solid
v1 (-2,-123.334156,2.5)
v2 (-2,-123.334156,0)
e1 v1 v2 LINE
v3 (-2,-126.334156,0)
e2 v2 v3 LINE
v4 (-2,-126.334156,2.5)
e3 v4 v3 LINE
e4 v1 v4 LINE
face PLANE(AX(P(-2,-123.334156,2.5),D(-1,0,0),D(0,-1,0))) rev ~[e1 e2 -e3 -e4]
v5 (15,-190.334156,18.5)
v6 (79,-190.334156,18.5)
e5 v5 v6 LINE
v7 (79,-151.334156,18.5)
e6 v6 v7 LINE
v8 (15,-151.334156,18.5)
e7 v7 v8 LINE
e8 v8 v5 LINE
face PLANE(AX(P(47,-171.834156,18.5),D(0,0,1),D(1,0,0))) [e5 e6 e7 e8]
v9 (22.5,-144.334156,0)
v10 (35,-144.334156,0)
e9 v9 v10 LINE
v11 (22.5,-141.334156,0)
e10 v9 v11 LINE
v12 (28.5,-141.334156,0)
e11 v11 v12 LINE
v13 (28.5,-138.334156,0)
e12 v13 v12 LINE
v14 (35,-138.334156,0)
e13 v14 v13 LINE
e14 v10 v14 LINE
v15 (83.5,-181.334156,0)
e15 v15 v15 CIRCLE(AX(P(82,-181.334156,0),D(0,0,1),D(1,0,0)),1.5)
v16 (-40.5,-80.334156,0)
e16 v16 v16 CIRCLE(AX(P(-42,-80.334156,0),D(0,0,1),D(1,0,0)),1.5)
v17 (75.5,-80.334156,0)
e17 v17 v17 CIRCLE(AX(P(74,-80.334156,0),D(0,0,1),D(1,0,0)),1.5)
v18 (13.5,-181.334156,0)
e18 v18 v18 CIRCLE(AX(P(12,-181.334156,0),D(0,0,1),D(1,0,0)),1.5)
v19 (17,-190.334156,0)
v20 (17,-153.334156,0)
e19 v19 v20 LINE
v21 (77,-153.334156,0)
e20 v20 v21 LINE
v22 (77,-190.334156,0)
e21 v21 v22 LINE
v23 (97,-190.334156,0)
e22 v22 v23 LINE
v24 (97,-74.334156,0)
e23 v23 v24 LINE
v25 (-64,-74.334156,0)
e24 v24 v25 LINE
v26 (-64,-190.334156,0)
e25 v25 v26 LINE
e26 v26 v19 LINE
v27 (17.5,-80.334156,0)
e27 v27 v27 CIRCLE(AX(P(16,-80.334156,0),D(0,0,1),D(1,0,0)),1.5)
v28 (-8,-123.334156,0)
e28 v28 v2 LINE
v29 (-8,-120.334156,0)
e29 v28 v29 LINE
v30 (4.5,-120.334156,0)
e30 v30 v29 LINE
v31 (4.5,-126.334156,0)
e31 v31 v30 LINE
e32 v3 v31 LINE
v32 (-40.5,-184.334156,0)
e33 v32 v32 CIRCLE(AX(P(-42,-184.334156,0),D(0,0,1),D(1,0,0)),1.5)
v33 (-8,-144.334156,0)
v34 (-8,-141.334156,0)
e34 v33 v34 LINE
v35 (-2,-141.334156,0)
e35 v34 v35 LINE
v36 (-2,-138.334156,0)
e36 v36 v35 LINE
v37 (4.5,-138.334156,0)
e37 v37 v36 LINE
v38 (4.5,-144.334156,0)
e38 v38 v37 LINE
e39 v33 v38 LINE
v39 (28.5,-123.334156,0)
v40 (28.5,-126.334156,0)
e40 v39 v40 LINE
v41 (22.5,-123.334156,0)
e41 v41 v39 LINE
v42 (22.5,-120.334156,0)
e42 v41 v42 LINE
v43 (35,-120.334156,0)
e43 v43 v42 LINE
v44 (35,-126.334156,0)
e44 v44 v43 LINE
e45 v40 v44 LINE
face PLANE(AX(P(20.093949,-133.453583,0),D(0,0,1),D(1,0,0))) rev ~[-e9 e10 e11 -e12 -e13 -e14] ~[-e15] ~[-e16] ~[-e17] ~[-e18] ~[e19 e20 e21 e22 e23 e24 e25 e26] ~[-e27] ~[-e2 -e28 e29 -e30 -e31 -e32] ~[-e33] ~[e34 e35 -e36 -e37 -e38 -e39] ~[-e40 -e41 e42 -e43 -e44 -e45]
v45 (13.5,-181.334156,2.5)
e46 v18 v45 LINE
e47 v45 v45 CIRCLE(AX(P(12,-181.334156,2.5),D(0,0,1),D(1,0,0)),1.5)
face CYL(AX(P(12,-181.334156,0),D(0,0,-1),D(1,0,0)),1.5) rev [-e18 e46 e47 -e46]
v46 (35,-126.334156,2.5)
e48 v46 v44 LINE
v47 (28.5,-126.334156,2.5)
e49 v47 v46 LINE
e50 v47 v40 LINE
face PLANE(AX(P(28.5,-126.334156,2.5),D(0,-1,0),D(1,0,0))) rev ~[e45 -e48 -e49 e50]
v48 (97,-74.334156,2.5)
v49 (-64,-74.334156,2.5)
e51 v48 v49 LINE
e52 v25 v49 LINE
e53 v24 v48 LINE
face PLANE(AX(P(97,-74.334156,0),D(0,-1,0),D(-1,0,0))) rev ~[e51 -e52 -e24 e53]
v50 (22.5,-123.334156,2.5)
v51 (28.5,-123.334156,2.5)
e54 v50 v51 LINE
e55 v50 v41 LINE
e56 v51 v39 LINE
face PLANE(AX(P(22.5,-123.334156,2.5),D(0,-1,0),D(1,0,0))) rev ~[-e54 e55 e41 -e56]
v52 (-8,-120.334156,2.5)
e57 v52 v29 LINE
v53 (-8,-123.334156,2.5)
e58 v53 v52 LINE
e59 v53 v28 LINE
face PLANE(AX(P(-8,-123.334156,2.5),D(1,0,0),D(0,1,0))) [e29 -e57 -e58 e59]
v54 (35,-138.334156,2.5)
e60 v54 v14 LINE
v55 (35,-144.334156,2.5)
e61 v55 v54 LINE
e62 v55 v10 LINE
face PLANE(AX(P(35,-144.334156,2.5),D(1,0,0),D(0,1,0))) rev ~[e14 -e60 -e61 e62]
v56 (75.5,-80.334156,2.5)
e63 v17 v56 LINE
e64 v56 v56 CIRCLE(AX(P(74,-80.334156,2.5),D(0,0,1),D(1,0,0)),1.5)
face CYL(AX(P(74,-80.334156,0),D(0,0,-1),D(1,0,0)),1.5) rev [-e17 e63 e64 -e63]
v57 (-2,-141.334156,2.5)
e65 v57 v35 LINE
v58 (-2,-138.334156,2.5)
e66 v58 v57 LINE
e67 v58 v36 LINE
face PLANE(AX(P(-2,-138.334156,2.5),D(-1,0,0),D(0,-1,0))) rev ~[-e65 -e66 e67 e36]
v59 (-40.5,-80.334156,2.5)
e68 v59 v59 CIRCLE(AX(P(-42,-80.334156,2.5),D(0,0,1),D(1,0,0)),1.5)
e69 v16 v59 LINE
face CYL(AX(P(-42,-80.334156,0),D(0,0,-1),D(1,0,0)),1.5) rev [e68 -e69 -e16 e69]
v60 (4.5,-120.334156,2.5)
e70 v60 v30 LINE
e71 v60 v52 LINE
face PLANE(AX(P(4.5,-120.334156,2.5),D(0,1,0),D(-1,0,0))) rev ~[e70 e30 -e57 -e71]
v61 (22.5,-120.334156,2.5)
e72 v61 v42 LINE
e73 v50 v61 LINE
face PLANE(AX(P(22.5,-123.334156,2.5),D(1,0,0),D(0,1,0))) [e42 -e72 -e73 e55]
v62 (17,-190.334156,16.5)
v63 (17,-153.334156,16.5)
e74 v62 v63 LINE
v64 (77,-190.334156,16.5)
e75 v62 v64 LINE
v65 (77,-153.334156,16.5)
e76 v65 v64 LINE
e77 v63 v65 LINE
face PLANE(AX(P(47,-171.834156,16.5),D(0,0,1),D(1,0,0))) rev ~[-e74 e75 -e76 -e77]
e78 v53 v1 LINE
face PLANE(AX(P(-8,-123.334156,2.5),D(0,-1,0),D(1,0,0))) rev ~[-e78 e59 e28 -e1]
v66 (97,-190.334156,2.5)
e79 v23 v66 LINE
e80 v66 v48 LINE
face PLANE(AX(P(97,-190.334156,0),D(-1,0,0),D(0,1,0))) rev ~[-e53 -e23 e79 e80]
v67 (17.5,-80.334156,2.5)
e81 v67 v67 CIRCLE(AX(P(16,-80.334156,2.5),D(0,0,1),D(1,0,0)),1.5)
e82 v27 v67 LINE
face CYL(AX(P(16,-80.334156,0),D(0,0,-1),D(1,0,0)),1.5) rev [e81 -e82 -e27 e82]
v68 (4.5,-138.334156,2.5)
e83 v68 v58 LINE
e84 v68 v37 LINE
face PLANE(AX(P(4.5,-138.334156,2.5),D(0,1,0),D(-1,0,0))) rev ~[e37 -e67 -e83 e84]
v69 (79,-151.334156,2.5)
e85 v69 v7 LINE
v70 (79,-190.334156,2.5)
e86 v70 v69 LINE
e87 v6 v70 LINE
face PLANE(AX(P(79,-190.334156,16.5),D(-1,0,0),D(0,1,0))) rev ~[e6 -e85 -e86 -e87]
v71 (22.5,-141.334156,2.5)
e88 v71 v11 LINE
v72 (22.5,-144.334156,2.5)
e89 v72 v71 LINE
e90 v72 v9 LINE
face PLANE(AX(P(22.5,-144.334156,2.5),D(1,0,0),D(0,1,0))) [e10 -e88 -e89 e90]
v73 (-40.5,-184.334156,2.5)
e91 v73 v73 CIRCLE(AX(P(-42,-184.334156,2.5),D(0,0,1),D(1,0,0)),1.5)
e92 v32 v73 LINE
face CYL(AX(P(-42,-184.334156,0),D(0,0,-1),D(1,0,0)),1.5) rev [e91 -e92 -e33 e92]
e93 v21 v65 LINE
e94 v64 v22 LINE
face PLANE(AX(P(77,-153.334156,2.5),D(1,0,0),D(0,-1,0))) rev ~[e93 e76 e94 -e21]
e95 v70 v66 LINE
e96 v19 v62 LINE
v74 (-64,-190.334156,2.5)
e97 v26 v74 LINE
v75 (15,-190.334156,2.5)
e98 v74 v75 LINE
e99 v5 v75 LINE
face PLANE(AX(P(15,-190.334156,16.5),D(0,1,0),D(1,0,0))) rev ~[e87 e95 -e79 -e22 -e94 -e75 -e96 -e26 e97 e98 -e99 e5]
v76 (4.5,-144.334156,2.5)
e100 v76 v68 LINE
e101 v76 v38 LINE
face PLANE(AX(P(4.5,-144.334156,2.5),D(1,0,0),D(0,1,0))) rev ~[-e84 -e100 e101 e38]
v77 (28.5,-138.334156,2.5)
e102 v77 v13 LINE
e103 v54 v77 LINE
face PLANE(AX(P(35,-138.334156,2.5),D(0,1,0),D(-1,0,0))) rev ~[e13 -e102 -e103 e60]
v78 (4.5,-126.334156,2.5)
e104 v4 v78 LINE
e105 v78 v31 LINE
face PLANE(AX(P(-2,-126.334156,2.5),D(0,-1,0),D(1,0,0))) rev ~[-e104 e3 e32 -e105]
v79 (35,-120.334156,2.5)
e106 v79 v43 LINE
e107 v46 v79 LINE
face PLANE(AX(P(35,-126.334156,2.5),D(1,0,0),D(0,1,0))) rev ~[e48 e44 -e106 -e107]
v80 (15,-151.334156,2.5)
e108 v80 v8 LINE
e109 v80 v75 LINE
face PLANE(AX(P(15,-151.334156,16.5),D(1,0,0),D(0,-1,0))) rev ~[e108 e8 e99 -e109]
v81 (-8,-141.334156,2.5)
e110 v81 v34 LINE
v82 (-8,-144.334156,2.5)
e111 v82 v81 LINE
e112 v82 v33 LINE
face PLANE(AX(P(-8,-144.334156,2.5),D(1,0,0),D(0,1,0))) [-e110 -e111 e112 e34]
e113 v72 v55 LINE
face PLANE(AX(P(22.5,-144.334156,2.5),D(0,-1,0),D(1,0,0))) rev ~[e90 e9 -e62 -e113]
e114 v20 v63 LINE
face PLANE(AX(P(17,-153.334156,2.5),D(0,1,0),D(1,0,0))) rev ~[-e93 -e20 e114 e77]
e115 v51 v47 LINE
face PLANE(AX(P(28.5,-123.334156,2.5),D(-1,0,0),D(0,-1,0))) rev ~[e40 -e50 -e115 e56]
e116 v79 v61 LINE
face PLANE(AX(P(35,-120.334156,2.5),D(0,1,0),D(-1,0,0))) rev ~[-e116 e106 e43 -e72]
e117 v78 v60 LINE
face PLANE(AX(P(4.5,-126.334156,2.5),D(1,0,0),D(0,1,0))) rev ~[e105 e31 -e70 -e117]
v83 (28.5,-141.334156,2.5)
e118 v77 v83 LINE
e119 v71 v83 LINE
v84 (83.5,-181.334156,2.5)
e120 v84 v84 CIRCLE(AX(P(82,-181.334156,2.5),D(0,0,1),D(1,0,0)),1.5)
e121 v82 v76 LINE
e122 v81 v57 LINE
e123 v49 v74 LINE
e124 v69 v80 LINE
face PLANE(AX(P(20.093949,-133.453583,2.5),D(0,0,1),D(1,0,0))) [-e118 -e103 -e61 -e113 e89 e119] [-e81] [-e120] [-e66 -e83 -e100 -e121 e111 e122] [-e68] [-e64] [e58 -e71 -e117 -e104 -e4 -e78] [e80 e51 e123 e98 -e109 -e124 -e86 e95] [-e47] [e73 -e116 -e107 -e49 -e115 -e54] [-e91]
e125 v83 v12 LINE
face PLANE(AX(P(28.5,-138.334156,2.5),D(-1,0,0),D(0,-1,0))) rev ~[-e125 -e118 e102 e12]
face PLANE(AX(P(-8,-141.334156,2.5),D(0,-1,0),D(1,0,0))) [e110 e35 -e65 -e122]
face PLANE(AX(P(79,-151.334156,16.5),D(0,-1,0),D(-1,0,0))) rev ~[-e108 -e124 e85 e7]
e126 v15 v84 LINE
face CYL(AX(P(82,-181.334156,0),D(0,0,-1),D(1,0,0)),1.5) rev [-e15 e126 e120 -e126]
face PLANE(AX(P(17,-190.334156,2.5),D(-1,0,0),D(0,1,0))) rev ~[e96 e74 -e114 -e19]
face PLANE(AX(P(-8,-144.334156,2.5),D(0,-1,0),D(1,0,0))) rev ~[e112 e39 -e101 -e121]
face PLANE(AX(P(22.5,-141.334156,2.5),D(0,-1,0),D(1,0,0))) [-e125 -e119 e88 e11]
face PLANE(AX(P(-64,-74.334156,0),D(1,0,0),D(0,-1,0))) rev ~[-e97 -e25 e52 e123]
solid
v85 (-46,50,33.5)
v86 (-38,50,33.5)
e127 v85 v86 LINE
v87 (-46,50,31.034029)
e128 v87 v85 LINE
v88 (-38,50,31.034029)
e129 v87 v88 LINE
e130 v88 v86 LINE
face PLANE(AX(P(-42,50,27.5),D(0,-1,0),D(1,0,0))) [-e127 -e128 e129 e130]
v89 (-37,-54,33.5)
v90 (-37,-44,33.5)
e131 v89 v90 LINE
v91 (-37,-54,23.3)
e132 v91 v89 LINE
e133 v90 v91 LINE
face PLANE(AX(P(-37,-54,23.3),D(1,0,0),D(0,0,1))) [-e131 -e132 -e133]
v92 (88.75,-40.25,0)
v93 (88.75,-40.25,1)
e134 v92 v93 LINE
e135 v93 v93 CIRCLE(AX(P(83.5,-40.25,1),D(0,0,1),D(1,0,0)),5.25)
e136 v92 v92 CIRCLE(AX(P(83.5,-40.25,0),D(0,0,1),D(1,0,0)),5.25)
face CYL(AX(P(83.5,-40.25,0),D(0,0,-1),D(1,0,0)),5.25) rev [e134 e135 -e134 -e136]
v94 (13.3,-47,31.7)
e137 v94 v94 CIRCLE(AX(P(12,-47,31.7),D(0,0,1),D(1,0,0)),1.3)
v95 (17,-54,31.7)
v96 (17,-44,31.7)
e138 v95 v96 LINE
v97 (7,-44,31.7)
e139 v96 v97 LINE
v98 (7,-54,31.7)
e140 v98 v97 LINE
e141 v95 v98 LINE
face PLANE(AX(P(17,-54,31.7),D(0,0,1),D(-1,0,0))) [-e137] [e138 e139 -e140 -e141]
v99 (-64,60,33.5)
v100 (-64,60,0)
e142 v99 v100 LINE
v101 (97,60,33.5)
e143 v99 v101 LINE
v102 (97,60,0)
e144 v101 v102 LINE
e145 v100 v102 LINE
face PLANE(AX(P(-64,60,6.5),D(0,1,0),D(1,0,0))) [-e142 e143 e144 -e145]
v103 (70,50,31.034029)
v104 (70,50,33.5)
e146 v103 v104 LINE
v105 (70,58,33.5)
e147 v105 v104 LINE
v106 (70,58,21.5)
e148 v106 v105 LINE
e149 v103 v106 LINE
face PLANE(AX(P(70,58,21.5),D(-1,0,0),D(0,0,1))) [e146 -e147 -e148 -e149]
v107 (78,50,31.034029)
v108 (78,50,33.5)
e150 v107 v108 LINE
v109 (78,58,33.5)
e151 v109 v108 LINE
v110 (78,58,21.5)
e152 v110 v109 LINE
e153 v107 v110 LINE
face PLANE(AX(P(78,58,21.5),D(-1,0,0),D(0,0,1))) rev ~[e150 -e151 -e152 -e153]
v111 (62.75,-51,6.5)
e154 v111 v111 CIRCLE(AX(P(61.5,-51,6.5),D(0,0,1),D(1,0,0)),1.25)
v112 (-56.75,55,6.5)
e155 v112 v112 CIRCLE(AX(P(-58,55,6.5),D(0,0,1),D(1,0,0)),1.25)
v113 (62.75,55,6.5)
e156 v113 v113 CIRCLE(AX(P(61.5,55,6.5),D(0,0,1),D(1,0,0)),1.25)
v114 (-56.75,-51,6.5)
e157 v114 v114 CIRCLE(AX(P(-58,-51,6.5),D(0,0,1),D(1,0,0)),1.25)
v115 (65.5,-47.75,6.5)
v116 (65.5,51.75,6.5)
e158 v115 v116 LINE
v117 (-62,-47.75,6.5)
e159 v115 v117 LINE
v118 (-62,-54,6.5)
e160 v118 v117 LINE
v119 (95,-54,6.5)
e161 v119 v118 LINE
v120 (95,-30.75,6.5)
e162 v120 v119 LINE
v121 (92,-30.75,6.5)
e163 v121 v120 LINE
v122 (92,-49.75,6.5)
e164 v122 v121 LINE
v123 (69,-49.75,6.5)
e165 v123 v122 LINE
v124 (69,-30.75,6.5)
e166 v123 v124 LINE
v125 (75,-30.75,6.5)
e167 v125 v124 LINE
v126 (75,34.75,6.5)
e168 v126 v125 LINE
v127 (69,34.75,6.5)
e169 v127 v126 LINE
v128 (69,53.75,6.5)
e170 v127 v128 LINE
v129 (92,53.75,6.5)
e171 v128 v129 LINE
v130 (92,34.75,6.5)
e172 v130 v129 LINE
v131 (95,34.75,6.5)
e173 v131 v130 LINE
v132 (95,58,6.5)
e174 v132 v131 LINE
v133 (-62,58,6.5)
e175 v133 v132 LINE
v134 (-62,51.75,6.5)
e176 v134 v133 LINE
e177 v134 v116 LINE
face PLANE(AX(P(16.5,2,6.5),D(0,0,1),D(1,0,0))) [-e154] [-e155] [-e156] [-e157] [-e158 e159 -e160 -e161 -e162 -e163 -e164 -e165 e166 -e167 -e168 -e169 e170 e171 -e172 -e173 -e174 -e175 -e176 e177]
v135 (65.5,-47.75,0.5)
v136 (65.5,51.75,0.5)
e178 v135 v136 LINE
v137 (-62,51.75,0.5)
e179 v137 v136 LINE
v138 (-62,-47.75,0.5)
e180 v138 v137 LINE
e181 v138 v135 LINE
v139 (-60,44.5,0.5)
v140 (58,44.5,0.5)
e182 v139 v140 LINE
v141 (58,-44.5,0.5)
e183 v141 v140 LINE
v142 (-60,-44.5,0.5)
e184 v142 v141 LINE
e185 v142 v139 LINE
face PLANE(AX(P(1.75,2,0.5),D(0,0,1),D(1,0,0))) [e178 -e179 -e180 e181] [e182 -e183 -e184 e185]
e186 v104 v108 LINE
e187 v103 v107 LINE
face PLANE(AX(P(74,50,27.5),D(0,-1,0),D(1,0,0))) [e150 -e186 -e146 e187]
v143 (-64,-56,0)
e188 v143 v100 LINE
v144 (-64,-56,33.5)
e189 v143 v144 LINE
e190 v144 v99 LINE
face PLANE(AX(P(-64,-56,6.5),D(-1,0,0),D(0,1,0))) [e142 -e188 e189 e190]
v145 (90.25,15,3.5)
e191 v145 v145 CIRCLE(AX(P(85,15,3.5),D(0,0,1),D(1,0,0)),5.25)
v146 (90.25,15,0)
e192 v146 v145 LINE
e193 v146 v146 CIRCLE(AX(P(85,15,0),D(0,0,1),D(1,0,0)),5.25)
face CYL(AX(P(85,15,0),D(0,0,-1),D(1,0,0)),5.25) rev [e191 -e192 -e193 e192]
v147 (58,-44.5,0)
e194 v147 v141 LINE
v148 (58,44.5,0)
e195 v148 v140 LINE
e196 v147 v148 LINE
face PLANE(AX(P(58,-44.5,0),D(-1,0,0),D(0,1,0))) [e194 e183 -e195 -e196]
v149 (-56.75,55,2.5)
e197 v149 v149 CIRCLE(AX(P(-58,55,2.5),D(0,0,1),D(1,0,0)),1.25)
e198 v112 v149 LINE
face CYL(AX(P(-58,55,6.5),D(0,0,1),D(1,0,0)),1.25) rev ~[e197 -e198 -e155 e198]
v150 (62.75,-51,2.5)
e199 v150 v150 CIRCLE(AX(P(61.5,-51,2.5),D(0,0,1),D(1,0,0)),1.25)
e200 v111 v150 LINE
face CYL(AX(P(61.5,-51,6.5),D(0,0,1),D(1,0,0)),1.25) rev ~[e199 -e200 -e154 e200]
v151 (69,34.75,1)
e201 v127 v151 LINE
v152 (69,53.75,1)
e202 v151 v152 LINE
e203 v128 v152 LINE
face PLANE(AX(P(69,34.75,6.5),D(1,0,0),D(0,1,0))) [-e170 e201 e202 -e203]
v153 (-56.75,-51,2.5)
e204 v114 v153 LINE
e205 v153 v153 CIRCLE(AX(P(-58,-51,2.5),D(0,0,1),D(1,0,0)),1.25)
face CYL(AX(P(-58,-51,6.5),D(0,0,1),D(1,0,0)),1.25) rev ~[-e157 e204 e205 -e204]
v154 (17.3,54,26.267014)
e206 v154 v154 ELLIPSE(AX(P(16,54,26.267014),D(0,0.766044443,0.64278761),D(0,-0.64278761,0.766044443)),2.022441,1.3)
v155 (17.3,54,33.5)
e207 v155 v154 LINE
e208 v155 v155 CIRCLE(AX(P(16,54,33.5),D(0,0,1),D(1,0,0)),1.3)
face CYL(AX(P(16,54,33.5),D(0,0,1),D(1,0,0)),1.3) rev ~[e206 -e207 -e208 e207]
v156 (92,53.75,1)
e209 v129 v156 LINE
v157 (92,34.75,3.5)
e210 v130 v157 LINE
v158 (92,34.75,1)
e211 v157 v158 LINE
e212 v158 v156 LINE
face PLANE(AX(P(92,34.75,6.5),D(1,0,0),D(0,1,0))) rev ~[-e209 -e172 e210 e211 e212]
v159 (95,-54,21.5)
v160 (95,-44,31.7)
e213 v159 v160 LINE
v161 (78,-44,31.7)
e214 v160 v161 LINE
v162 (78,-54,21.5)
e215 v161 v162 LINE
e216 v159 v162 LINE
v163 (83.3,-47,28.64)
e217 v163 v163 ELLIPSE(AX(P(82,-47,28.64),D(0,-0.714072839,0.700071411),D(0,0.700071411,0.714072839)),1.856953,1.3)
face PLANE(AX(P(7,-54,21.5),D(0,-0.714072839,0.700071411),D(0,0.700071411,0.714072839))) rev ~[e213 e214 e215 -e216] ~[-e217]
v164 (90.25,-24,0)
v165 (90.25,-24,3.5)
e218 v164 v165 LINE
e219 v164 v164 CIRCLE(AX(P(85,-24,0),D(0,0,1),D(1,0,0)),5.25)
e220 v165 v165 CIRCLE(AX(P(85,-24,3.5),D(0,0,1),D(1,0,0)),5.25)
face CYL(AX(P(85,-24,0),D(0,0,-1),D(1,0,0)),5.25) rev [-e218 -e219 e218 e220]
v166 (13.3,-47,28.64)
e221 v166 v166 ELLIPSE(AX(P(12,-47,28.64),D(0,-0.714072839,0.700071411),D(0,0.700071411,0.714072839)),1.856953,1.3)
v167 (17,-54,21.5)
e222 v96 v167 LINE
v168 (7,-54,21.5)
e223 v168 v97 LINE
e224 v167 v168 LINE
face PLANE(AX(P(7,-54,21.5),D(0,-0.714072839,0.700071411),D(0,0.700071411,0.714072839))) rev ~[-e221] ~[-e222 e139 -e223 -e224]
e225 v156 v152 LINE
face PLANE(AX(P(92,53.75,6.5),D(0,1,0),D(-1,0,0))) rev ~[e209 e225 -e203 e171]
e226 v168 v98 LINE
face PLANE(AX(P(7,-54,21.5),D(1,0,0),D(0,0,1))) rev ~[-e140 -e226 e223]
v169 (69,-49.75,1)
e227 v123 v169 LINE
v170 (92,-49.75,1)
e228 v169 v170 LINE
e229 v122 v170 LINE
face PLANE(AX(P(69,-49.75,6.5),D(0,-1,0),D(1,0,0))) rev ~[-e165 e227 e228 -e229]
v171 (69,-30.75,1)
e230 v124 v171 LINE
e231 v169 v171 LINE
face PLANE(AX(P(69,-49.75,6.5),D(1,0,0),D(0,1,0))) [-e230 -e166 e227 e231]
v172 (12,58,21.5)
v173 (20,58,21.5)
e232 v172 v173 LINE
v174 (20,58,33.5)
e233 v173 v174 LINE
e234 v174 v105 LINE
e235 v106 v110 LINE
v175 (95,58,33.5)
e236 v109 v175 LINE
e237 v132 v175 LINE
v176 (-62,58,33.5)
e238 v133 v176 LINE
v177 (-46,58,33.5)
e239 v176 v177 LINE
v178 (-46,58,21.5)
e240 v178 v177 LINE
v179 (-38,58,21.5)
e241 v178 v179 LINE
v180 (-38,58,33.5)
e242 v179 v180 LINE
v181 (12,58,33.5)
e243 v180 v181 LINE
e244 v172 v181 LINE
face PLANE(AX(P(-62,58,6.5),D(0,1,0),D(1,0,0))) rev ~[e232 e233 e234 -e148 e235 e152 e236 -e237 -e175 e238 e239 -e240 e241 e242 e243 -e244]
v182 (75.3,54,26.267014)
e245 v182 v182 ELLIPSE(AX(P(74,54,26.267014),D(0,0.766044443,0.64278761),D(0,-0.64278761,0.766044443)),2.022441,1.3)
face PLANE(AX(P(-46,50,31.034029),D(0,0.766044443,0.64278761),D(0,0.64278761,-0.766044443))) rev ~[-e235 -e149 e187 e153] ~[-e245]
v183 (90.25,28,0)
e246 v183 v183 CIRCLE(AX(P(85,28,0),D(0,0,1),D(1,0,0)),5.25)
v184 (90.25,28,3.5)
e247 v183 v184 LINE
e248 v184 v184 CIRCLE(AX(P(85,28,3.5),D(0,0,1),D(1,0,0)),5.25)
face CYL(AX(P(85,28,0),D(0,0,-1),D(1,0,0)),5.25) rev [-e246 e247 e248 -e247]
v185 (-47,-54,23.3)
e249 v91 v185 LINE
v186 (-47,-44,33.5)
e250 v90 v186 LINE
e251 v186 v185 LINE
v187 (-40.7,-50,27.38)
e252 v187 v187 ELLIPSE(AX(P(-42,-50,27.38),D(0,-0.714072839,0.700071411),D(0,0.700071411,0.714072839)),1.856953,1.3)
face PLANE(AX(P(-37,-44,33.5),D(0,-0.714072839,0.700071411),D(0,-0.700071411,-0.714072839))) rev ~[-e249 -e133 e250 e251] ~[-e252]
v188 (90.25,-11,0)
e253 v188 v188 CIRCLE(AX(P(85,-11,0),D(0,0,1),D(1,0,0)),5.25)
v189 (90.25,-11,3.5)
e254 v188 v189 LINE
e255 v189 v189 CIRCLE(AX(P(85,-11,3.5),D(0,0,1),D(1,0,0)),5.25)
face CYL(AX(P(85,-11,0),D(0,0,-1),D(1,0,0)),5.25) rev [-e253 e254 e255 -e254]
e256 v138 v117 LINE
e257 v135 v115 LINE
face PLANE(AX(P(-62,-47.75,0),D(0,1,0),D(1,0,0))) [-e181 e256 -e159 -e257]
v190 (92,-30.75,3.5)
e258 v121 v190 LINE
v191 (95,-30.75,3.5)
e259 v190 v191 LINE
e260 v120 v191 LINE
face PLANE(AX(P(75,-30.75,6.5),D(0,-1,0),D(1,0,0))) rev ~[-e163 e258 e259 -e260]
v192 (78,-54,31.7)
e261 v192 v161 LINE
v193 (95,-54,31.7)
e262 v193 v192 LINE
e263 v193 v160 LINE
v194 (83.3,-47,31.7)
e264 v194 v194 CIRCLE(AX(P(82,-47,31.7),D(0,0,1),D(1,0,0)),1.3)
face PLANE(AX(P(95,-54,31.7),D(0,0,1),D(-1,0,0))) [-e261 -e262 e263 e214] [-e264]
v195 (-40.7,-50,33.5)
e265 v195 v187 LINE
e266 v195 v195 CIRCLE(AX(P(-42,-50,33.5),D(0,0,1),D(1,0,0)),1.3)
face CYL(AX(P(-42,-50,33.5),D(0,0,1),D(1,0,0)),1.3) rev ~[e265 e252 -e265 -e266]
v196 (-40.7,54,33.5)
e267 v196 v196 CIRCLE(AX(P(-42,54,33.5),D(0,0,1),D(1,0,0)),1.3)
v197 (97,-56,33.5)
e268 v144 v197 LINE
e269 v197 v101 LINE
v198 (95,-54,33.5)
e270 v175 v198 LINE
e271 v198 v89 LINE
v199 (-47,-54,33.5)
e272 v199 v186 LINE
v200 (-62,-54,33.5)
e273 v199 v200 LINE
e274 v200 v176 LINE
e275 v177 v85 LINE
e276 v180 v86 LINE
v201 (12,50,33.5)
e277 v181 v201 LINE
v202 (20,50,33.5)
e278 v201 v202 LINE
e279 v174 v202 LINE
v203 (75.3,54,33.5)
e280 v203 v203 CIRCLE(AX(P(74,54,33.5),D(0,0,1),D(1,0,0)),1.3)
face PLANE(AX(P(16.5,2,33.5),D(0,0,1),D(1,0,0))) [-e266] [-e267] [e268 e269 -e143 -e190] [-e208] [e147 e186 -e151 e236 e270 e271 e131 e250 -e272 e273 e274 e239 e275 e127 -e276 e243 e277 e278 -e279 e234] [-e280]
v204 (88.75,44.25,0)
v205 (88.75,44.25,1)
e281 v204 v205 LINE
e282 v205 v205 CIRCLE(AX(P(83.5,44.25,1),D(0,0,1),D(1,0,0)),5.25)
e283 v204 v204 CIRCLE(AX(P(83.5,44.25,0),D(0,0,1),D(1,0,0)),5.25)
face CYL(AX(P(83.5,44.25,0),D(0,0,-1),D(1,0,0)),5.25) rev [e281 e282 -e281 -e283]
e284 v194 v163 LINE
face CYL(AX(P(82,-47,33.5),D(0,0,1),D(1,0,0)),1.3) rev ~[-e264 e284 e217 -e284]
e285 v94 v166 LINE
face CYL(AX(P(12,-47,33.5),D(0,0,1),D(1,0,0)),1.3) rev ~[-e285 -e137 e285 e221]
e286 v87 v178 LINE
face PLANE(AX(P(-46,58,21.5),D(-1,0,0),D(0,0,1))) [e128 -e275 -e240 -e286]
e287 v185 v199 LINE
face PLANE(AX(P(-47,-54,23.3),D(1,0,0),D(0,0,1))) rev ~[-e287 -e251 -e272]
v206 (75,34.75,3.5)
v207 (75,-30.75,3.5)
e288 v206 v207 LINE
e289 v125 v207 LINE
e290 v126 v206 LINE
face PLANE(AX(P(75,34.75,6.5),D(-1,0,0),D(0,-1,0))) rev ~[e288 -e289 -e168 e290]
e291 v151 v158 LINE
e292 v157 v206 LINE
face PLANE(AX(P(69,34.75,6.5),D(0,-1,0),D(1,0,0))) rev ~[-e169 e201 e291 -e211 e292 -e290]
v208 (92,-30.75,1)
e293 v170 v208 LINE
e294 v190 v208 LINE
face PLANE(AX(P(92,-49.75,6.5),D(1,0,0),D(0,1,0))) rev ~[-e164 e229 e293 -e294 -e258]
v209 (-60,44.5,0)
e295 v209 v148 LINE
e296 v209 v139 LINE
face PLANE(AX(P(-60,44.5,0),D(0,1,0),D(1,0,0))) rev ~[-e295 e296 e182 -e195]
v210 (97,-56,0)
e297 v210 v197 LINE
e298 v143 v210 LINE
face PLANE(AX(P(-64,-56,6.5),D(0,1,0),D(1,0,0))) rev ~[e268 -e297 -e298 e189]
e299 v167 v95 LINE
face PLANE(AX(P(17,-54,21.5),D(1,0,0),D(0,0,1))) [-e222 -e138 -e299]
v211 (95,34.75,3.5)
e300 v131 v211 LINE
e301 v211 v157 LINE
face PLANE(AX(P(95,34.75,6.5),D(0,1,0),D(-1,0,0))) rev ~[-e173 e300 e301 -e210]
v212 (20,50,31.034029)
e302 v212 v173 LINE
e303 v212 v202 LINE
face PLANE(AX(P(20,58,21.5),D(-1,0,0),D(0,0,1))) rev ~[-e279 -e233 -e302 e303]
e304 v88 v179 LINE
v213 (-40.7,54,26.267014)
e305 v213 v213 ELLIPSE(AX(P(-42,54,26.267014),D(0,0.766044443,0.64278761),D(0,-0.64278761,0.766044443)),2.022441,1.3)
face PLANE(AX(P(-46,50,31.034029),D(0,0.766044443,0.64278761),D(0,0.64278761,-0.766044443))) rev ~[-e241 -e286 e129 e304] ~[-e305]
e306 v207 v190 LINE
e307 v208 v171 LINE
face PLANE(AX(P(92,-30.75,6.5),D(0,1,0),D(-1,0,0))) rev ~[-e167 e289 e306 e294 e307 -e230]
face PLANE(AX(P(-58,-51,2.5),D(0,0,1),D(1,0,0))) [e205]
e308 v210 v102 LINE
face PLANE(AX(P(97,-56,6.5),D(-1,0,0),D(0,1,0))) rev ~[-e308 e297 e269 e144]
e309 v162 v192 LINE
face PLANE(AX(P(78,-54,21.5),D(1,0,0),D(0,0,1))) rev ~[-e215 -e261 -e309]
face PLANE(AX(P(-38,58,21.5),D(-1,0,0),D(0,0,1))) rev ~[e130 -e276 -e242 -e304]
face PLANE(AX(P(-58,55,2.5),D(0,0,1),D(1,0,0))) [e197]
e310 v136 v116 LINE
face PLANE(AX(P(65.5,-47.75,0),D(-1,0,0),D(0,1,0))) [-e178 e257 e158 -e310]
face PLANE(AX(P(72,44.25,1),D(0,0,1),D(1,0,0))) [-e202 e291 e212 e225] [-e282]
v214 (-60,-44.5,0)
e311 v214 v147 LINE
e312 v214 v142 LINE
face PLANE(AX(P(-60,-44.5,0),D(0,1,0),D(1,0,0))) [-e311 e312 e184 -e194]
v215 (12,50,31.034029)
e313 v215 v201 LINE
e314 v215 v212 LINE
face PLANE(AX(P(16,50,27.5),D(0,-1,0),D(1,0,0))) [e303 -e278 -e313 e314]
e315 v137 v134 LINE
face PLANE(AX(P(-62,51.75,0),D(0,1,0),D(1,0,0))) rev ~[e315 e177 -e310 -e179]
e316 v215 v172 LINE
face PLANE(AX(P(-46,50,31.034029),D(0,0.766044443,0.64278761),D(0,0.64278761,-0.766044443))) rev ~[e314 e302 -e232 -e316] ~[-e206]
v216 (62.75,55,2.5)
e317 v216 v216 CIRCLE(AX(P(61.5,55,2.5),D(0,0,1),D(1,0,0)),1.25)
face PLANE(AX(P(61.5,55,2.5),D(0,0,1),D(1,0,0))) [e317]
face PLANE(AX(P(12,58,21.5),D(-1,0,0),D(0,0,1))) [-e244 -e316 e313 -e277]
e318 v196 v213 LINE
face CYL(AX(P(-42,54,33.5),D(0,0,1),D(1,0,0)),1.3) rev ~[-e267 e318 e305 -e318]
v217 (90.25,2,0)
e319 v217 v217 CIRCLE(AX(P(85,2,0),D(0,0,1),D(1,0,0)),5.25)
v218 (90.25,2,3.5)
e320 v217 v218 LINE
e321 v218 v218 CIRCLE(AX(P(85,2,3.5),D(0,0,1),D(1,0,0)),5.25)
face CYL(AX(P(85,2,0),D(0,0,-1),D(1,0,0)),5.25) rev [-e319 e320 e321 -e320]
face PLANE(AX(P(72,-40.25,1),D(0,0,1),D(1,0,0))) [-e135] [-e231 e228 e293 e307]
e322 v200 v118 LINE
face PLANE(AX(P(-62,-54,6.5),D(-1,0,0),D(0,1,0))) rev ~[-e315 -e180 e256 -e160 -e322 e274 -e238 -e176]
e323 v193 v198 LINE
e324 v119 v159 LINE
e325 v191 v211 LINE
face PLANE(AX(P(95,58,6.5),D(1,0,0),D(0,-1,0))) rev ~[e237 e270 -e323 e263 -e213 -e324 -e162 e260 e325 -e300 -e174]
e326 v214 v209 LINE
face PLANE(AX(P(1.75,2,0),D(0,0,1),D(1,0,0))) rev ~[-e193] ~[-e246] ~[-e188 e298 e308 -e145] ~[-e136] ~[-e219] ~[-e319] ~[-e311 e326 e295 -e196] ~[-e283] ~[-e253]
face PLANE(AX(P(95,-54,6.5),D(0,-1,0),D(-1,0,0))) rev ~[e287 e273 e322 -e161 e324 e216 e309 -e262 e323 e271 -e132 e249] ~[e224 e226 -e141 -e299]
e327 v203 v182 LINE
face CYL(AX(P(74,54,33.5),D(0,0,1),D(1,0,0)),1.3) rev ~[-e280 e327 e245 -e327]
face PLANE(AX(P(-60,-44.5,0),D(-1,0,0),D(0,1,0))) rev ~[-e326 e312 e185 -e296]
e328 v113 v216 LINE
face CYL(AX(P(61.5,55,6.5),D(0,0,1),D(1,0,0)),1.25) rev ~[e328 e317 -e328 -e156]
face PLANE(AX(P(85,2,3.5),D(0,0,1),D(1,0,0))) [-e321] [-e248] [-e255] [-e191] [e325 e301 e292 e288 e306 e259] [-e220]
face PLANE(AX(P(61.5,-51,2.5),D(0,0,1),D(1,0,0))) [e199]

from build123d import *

# Parameters (mm, degrees)
F0_W      = 161
F0_H      = 116
F0_W_2    = 127.5
F0_H_2    = 99.5
F2_DEPTH  = 6.5
F0_W_3    = 118
F0_H_3    = 89
F3_DEPTH  = 0.5
F1_R      = 5.25
F4_DEPTH  = 6.5
F5_W      = 6
F5_H      = 19
F5_W_2    = 17
F5_R      = 5.25
F6_DEPTH  = 5.5
F7_W      = 161
F7_H      = 116
F8_DEPTH  = 27
F9_R      = 1.25
F10_DEPTH = 4
F11_W     = 8
F11_H     = 12
F12_DEPTH = 8
F14_DEPTH = 124
F15_W     = 10
F15_H     = 10.2
F15_W_2   = 17
F16_DEPTH = 10
F18_DEPTH = 88
F19_R     = 1.3
F20_DEPTH = 27
F21_DEPTH = 3
F22_R     = 1.5
F23_DEPTH = 2.5
F24_W     = 6
F24_H     = 3
F25_DEPTH = 2.501
F26_DEPTH = 27
F28_DEPTH = 25
F30_DEPTH = 14
F31_W     = 60
F31_H     = 37
F32_DEPTH = 2


with BuildPart() as f2:
    # F0 (on Top) → F2 (new body)
    with BuildSketch(Plane.XY):
        with Locations((16.5, 2)):
            Rectangle(F0_W, F0_H)
        with Locations((1.75, 2)):
            Rectangle(F0_W_2, F0_H_2, mode=Mode.SUBTRACT)
    extrude(amount=F2_DEPTH)

    # F0 (on Top) → F3 (join)
    with BuildSketch(Plane.XY):
        with Locations((1.75, 2)):
            Rectangle(F0_W_2, F0_H_2)
        with Locations((-1, 0)):
            Rectangle(F0_W_3, F0_H_3, mode=Mode.SUBTRACT)
    extrude(amount=F3_DEPTH)

    # F1 (on face) → F4 (cut, through all)
    with BuildSketch(Plane.XY):
        with Locations((83.5, -40.25)):
            Circle(F1_R)
        with Locations((83.5, 44.25)):
            Circle(F1_R)
        with Locations((85, -24)):
            Circle(F1_R)
        with Locations((85, -11)):
            Circle(F1_R)
        with Locations((85, 2)):
            Circle(F1_R)
        with Locations((85, 15)):
            Circle(F1_R)
        with Locations((85, 28)):
            Circle(F1_R)
    extrude(amount=F4_DEPTH, mode=Mode.SUBTRACT)

    # F5 (on face) → F6 (cut)
    with BuildSketch(Plane.XY.offset(6.5)):
        with Locations((72, 44.25)):
            Rectangle(F5_W, F5_H)
        with Locations((83.5, 44.25)):
            Rectangle(F5_W_2, F5_H)
        with Locations((83.5, 44.25)):
            Circle(F5_R, mode=Mode.SUBTRACT)
        with Locations((72, -40.25)):
            Rectangle(F5_W, F5_H)
        with Locations((83.5, -40.25)):
            Rectangle(F5_W_2, F5_H)
        with Locations((83.5, -40.25)):
            Circle(F5_R, mode=Mode.SUBTRACT)
    extrude(amount=-F6_DEPTH, mode=Mode.SUBTRACT)

    # F7 (on face) → F8 (join)
    with BuildSketch(Plane.XY.offset(6.5)):
        with Locations((16.5, 2)):
            Rectangle(F7_W, F7_H)
        Polygon((-62, 51.75), (-62, 58), (95, 58), (95, -54), (-62, -54), (-62, -47.75), align=None, mode=Mode.SUBTRACT)
    extrude(amount=F8_DEPTH)

    # F9 (on face) → F10 (cut)
    with BuildSketch(Plane.XY.offset(6.5)):
        with Locations((-58, 55)):
            Circle(F9_R)
        with Locations((61.5, 55)):
            Circle(F9_R)
        with Locations((61.5, -51)):
            Circle(F9_R)
        with Locations((-58, -51)):
            Circle(F9_R)
    extrude(amount=-F10_DEPTH, mode=Mode.SUBTRACT)

    # F11 (on face) → F12 (join)
    with BuildSketch(Plane.XZ.offset(-58)):
        with Locations((-42, 27.5)):
            Rectangle(F11_W, F11_H)
        with Locations((16, 27.5)):
            Rectangle(F11_W, F11_H)
        with Locations((74, 27.5)):
            Rectangle(F11_W, F11_H)
    extrude(amount=F12_DEPTH)

    # F13 (on face) → F14 (cut, through all)
    with BuildSketch(Plane(origin=(-46, 0, 0), x_dir=(0, -1, 0), z_dir=(-1, 0, 0))):
        Polygon((-50, 31.0340287408), (-58, 21.5), (-50, 21.5), align=None)
    extrude(amount=-F14_DEPTH, mode=Mode.SUBTRACT)

    # F15 (on face) → F16 (join)
    with BuildSketch(Plane(origin=(0, -54, 0), x_dir=(-1, 0, 0), z_dir=(0, 1, 0))):
        with Locations((42, 28.4)):
            Rectangle(F15_W, F15_H)
        with Locations((-12, 26.6)):
            Rectangle(F15_W, F15_H)
        with Locations((-86.5, 26.6)):
            Rectangle(F15_W_2, F15_H)
    extrude(amount=F16_DEPTH)

    # F17 (on face) → F18 (cut, through all)
    with BuildSketch(Plane(origin=(7, 0, 0), x_dir=(0, -1, 0), z_dir=(-1, 0, 0))):
        Polygon((44, 21.5), (54, 21.5), (44, 31.7), align=None)
    extrude(amount=-F18_DEPTH, mode=Mode.SUBTRACT)

    # F19 (on face) → F20 (cut, through all)
    with BuildSketch(Plane.XY.offset(33.5)):
        with Locations((74, 54)):
            Circle(F19_R)
        with Locations((-42, -50)):
            Circle(F19_R)
        with Locations((12, -47)):
            Circle(F19_R)
        with Locations((82, -47)):
            Circle(F19_R)
        with Locations((-42, 54)):
            Circle(F19_R)
        with Locations((16, 54)):
            Circle(F19_R)
    extrude(amount=-F20_DEPTH, mode=Mode.SUBTRACT)

    # F5 (on face) → F21 (cut)
    with BuildSketch(Plane.XY.offset(6.5)):
        Polygon((95, 34.75), (92, 34.75), (75, 34.75), (75, -30.75), (92, -30.75), (95, -30.75), align=None)
        with Locations((85, -24)):
            Circle(F5_R, mode=Mode.SUBTRACT)
        with Locations((85, -11)):
            Circle(F5_R, mode=Mode.SUBTRACT)
        with Locations((85, 2)):
            Circle(F5_R, mode=Mode.SUBTRACT)
        with Locations((85, 15)):
            Circle(F5_R, mode=Mode.SUBTRACT)
        with Locations((85, 28)):
            Circle(F5_R, mode=Mode.SUBTRACT)
    extrude(amount=-F21_DEPTH, mode=Mode.SUBTRACT)

    # F19 (on face) → F26 (cut, through all)
    with BuildSketch(Plane.XY.offset(33.5)):
        with Locations((82, -47)):
            Circle(F19_R)
    extrude(amount=-F26_DEPTH, mode=Mode.SUBTRACT)

    # F27 (on face) → F28 (cut, through all)
    with BuildSketch(Plane.YZ.offset(-37)):
        Polygon((-44, 33.5), (-54, 23.3), (-44, 23.3), align=None)
    extrude(amount=-F28_DEPTH, mode=Mode.SUBTRACT)


with BuildPart() as f23:
    # F22 (on Top) → F23 (new body)
    with BuildSketch(Plane.XY):
        Polygon((97, -74.3341559172), (-64, -74.3341559172), (-64, -190.3341559172), (17, -190.3341559172), (17, -153.3341559172), (77, -153.3341559172), (77, -190.3341559172), (97, -190.3341559172), align=None)
        with Locations((-42, -184.3341559172)):
            Circle(F22_R, mode=Mode.SUBTRACT)
        with Locations((12, -181.3341559172)):
            Circle(F22_R, mode=Mode.SUBTRACT)
        with Locations((82, -181.3341559172)):
            Circle(F22_R, mode=Mode.SUBTRACT)
        with Locations((-42, -80.3341559172)):
            Circle(F22_R, mode=Mode.SUBTRACT)
        with Locations((16, -80.3341559172)):
            Circle(F22_R, mode=Mode.SUBTRACT)
        with Locations((74, -80.3341559172)):
            Circle(F22_R, mode=Mode.SUBTRACT)
    extrude(amount=F23_DEPTH)

    # F24 (on face) → F25 (cut, through all)
    with BuildSketch(Plane.XY.offset(2.5)):
        with Locations((-5, -121.8341559172)):
            Rectangle(F24_W, F24_H)
        Polygon((-2, -126.3341559172), (4.5, -126.3341559172), (4.5, -120.3341559172), (-2, -120.3341559172), (-2, -123.3341559172), align=None)
        with Locations((25.5, -121.8341559172)):
            Rectangle(F24_W, F24_H)
        Polygon((28.5, -126.3341559172), (35, -126.3341559172), (35, -120.3341559172), (28.5, -120.3341559172), (28.5, -123.3341559172), align=None)
        Polygon((28.5, -144.3341559172), (35, -144.3341559172), (35, -138.3341559172), (28.5, -138.3341559172), (28.5, -141.3341559172), align=None)
        with Locations((25.5, -142.8341559172)):
            Rectangle(F24_W, F24_H)
        Polygon((-2, -144.3341559172), (4.5, -144.3341559172), (4.5, -138.3341559172), (-2, -138.3341559172), (-2, -141.3341559172), align=None)
        with Locations((-5, -142.8341559172)):
            Rectangle(F24_W, F24_H)
    extrude(amount=-F25_DEPTH, mode=Mode.SUBTRACT)

    # F29 (on face) → F30 (join)
    with BuildSketch(Plane.XY.offset(2.5)):
        Polygon((15, -151.3341559172), (15, -190.3341559172), (17, -190.3341559172), (17, -153.3341559172), (77, -153.3341559172), (77, -190.3341559172), (79, -190.3341559172), (79, -151.3341559172), align=None)
    extrude(amount=F30_DEPTH)

    # F31 (on face) → F32 (join)
    with BuildSketch(Plane.XY.offset(16.5)):
        with Locations((47, -171.8341559172)):
            Rectangle(F31_W, F31_H)
        Polygon((77, -190.3341559172), (79, -190.3341559172), (79, -151.3341559172), (15, -151.3341559172), (15, -190.3341559172), (17, -190.3341559172), (17, -153.3341559172), (77, -153.3341559172), align=None)
    extrude(amount=F32_DEPTH)


solid = Compound([f2.part, f23.part])
